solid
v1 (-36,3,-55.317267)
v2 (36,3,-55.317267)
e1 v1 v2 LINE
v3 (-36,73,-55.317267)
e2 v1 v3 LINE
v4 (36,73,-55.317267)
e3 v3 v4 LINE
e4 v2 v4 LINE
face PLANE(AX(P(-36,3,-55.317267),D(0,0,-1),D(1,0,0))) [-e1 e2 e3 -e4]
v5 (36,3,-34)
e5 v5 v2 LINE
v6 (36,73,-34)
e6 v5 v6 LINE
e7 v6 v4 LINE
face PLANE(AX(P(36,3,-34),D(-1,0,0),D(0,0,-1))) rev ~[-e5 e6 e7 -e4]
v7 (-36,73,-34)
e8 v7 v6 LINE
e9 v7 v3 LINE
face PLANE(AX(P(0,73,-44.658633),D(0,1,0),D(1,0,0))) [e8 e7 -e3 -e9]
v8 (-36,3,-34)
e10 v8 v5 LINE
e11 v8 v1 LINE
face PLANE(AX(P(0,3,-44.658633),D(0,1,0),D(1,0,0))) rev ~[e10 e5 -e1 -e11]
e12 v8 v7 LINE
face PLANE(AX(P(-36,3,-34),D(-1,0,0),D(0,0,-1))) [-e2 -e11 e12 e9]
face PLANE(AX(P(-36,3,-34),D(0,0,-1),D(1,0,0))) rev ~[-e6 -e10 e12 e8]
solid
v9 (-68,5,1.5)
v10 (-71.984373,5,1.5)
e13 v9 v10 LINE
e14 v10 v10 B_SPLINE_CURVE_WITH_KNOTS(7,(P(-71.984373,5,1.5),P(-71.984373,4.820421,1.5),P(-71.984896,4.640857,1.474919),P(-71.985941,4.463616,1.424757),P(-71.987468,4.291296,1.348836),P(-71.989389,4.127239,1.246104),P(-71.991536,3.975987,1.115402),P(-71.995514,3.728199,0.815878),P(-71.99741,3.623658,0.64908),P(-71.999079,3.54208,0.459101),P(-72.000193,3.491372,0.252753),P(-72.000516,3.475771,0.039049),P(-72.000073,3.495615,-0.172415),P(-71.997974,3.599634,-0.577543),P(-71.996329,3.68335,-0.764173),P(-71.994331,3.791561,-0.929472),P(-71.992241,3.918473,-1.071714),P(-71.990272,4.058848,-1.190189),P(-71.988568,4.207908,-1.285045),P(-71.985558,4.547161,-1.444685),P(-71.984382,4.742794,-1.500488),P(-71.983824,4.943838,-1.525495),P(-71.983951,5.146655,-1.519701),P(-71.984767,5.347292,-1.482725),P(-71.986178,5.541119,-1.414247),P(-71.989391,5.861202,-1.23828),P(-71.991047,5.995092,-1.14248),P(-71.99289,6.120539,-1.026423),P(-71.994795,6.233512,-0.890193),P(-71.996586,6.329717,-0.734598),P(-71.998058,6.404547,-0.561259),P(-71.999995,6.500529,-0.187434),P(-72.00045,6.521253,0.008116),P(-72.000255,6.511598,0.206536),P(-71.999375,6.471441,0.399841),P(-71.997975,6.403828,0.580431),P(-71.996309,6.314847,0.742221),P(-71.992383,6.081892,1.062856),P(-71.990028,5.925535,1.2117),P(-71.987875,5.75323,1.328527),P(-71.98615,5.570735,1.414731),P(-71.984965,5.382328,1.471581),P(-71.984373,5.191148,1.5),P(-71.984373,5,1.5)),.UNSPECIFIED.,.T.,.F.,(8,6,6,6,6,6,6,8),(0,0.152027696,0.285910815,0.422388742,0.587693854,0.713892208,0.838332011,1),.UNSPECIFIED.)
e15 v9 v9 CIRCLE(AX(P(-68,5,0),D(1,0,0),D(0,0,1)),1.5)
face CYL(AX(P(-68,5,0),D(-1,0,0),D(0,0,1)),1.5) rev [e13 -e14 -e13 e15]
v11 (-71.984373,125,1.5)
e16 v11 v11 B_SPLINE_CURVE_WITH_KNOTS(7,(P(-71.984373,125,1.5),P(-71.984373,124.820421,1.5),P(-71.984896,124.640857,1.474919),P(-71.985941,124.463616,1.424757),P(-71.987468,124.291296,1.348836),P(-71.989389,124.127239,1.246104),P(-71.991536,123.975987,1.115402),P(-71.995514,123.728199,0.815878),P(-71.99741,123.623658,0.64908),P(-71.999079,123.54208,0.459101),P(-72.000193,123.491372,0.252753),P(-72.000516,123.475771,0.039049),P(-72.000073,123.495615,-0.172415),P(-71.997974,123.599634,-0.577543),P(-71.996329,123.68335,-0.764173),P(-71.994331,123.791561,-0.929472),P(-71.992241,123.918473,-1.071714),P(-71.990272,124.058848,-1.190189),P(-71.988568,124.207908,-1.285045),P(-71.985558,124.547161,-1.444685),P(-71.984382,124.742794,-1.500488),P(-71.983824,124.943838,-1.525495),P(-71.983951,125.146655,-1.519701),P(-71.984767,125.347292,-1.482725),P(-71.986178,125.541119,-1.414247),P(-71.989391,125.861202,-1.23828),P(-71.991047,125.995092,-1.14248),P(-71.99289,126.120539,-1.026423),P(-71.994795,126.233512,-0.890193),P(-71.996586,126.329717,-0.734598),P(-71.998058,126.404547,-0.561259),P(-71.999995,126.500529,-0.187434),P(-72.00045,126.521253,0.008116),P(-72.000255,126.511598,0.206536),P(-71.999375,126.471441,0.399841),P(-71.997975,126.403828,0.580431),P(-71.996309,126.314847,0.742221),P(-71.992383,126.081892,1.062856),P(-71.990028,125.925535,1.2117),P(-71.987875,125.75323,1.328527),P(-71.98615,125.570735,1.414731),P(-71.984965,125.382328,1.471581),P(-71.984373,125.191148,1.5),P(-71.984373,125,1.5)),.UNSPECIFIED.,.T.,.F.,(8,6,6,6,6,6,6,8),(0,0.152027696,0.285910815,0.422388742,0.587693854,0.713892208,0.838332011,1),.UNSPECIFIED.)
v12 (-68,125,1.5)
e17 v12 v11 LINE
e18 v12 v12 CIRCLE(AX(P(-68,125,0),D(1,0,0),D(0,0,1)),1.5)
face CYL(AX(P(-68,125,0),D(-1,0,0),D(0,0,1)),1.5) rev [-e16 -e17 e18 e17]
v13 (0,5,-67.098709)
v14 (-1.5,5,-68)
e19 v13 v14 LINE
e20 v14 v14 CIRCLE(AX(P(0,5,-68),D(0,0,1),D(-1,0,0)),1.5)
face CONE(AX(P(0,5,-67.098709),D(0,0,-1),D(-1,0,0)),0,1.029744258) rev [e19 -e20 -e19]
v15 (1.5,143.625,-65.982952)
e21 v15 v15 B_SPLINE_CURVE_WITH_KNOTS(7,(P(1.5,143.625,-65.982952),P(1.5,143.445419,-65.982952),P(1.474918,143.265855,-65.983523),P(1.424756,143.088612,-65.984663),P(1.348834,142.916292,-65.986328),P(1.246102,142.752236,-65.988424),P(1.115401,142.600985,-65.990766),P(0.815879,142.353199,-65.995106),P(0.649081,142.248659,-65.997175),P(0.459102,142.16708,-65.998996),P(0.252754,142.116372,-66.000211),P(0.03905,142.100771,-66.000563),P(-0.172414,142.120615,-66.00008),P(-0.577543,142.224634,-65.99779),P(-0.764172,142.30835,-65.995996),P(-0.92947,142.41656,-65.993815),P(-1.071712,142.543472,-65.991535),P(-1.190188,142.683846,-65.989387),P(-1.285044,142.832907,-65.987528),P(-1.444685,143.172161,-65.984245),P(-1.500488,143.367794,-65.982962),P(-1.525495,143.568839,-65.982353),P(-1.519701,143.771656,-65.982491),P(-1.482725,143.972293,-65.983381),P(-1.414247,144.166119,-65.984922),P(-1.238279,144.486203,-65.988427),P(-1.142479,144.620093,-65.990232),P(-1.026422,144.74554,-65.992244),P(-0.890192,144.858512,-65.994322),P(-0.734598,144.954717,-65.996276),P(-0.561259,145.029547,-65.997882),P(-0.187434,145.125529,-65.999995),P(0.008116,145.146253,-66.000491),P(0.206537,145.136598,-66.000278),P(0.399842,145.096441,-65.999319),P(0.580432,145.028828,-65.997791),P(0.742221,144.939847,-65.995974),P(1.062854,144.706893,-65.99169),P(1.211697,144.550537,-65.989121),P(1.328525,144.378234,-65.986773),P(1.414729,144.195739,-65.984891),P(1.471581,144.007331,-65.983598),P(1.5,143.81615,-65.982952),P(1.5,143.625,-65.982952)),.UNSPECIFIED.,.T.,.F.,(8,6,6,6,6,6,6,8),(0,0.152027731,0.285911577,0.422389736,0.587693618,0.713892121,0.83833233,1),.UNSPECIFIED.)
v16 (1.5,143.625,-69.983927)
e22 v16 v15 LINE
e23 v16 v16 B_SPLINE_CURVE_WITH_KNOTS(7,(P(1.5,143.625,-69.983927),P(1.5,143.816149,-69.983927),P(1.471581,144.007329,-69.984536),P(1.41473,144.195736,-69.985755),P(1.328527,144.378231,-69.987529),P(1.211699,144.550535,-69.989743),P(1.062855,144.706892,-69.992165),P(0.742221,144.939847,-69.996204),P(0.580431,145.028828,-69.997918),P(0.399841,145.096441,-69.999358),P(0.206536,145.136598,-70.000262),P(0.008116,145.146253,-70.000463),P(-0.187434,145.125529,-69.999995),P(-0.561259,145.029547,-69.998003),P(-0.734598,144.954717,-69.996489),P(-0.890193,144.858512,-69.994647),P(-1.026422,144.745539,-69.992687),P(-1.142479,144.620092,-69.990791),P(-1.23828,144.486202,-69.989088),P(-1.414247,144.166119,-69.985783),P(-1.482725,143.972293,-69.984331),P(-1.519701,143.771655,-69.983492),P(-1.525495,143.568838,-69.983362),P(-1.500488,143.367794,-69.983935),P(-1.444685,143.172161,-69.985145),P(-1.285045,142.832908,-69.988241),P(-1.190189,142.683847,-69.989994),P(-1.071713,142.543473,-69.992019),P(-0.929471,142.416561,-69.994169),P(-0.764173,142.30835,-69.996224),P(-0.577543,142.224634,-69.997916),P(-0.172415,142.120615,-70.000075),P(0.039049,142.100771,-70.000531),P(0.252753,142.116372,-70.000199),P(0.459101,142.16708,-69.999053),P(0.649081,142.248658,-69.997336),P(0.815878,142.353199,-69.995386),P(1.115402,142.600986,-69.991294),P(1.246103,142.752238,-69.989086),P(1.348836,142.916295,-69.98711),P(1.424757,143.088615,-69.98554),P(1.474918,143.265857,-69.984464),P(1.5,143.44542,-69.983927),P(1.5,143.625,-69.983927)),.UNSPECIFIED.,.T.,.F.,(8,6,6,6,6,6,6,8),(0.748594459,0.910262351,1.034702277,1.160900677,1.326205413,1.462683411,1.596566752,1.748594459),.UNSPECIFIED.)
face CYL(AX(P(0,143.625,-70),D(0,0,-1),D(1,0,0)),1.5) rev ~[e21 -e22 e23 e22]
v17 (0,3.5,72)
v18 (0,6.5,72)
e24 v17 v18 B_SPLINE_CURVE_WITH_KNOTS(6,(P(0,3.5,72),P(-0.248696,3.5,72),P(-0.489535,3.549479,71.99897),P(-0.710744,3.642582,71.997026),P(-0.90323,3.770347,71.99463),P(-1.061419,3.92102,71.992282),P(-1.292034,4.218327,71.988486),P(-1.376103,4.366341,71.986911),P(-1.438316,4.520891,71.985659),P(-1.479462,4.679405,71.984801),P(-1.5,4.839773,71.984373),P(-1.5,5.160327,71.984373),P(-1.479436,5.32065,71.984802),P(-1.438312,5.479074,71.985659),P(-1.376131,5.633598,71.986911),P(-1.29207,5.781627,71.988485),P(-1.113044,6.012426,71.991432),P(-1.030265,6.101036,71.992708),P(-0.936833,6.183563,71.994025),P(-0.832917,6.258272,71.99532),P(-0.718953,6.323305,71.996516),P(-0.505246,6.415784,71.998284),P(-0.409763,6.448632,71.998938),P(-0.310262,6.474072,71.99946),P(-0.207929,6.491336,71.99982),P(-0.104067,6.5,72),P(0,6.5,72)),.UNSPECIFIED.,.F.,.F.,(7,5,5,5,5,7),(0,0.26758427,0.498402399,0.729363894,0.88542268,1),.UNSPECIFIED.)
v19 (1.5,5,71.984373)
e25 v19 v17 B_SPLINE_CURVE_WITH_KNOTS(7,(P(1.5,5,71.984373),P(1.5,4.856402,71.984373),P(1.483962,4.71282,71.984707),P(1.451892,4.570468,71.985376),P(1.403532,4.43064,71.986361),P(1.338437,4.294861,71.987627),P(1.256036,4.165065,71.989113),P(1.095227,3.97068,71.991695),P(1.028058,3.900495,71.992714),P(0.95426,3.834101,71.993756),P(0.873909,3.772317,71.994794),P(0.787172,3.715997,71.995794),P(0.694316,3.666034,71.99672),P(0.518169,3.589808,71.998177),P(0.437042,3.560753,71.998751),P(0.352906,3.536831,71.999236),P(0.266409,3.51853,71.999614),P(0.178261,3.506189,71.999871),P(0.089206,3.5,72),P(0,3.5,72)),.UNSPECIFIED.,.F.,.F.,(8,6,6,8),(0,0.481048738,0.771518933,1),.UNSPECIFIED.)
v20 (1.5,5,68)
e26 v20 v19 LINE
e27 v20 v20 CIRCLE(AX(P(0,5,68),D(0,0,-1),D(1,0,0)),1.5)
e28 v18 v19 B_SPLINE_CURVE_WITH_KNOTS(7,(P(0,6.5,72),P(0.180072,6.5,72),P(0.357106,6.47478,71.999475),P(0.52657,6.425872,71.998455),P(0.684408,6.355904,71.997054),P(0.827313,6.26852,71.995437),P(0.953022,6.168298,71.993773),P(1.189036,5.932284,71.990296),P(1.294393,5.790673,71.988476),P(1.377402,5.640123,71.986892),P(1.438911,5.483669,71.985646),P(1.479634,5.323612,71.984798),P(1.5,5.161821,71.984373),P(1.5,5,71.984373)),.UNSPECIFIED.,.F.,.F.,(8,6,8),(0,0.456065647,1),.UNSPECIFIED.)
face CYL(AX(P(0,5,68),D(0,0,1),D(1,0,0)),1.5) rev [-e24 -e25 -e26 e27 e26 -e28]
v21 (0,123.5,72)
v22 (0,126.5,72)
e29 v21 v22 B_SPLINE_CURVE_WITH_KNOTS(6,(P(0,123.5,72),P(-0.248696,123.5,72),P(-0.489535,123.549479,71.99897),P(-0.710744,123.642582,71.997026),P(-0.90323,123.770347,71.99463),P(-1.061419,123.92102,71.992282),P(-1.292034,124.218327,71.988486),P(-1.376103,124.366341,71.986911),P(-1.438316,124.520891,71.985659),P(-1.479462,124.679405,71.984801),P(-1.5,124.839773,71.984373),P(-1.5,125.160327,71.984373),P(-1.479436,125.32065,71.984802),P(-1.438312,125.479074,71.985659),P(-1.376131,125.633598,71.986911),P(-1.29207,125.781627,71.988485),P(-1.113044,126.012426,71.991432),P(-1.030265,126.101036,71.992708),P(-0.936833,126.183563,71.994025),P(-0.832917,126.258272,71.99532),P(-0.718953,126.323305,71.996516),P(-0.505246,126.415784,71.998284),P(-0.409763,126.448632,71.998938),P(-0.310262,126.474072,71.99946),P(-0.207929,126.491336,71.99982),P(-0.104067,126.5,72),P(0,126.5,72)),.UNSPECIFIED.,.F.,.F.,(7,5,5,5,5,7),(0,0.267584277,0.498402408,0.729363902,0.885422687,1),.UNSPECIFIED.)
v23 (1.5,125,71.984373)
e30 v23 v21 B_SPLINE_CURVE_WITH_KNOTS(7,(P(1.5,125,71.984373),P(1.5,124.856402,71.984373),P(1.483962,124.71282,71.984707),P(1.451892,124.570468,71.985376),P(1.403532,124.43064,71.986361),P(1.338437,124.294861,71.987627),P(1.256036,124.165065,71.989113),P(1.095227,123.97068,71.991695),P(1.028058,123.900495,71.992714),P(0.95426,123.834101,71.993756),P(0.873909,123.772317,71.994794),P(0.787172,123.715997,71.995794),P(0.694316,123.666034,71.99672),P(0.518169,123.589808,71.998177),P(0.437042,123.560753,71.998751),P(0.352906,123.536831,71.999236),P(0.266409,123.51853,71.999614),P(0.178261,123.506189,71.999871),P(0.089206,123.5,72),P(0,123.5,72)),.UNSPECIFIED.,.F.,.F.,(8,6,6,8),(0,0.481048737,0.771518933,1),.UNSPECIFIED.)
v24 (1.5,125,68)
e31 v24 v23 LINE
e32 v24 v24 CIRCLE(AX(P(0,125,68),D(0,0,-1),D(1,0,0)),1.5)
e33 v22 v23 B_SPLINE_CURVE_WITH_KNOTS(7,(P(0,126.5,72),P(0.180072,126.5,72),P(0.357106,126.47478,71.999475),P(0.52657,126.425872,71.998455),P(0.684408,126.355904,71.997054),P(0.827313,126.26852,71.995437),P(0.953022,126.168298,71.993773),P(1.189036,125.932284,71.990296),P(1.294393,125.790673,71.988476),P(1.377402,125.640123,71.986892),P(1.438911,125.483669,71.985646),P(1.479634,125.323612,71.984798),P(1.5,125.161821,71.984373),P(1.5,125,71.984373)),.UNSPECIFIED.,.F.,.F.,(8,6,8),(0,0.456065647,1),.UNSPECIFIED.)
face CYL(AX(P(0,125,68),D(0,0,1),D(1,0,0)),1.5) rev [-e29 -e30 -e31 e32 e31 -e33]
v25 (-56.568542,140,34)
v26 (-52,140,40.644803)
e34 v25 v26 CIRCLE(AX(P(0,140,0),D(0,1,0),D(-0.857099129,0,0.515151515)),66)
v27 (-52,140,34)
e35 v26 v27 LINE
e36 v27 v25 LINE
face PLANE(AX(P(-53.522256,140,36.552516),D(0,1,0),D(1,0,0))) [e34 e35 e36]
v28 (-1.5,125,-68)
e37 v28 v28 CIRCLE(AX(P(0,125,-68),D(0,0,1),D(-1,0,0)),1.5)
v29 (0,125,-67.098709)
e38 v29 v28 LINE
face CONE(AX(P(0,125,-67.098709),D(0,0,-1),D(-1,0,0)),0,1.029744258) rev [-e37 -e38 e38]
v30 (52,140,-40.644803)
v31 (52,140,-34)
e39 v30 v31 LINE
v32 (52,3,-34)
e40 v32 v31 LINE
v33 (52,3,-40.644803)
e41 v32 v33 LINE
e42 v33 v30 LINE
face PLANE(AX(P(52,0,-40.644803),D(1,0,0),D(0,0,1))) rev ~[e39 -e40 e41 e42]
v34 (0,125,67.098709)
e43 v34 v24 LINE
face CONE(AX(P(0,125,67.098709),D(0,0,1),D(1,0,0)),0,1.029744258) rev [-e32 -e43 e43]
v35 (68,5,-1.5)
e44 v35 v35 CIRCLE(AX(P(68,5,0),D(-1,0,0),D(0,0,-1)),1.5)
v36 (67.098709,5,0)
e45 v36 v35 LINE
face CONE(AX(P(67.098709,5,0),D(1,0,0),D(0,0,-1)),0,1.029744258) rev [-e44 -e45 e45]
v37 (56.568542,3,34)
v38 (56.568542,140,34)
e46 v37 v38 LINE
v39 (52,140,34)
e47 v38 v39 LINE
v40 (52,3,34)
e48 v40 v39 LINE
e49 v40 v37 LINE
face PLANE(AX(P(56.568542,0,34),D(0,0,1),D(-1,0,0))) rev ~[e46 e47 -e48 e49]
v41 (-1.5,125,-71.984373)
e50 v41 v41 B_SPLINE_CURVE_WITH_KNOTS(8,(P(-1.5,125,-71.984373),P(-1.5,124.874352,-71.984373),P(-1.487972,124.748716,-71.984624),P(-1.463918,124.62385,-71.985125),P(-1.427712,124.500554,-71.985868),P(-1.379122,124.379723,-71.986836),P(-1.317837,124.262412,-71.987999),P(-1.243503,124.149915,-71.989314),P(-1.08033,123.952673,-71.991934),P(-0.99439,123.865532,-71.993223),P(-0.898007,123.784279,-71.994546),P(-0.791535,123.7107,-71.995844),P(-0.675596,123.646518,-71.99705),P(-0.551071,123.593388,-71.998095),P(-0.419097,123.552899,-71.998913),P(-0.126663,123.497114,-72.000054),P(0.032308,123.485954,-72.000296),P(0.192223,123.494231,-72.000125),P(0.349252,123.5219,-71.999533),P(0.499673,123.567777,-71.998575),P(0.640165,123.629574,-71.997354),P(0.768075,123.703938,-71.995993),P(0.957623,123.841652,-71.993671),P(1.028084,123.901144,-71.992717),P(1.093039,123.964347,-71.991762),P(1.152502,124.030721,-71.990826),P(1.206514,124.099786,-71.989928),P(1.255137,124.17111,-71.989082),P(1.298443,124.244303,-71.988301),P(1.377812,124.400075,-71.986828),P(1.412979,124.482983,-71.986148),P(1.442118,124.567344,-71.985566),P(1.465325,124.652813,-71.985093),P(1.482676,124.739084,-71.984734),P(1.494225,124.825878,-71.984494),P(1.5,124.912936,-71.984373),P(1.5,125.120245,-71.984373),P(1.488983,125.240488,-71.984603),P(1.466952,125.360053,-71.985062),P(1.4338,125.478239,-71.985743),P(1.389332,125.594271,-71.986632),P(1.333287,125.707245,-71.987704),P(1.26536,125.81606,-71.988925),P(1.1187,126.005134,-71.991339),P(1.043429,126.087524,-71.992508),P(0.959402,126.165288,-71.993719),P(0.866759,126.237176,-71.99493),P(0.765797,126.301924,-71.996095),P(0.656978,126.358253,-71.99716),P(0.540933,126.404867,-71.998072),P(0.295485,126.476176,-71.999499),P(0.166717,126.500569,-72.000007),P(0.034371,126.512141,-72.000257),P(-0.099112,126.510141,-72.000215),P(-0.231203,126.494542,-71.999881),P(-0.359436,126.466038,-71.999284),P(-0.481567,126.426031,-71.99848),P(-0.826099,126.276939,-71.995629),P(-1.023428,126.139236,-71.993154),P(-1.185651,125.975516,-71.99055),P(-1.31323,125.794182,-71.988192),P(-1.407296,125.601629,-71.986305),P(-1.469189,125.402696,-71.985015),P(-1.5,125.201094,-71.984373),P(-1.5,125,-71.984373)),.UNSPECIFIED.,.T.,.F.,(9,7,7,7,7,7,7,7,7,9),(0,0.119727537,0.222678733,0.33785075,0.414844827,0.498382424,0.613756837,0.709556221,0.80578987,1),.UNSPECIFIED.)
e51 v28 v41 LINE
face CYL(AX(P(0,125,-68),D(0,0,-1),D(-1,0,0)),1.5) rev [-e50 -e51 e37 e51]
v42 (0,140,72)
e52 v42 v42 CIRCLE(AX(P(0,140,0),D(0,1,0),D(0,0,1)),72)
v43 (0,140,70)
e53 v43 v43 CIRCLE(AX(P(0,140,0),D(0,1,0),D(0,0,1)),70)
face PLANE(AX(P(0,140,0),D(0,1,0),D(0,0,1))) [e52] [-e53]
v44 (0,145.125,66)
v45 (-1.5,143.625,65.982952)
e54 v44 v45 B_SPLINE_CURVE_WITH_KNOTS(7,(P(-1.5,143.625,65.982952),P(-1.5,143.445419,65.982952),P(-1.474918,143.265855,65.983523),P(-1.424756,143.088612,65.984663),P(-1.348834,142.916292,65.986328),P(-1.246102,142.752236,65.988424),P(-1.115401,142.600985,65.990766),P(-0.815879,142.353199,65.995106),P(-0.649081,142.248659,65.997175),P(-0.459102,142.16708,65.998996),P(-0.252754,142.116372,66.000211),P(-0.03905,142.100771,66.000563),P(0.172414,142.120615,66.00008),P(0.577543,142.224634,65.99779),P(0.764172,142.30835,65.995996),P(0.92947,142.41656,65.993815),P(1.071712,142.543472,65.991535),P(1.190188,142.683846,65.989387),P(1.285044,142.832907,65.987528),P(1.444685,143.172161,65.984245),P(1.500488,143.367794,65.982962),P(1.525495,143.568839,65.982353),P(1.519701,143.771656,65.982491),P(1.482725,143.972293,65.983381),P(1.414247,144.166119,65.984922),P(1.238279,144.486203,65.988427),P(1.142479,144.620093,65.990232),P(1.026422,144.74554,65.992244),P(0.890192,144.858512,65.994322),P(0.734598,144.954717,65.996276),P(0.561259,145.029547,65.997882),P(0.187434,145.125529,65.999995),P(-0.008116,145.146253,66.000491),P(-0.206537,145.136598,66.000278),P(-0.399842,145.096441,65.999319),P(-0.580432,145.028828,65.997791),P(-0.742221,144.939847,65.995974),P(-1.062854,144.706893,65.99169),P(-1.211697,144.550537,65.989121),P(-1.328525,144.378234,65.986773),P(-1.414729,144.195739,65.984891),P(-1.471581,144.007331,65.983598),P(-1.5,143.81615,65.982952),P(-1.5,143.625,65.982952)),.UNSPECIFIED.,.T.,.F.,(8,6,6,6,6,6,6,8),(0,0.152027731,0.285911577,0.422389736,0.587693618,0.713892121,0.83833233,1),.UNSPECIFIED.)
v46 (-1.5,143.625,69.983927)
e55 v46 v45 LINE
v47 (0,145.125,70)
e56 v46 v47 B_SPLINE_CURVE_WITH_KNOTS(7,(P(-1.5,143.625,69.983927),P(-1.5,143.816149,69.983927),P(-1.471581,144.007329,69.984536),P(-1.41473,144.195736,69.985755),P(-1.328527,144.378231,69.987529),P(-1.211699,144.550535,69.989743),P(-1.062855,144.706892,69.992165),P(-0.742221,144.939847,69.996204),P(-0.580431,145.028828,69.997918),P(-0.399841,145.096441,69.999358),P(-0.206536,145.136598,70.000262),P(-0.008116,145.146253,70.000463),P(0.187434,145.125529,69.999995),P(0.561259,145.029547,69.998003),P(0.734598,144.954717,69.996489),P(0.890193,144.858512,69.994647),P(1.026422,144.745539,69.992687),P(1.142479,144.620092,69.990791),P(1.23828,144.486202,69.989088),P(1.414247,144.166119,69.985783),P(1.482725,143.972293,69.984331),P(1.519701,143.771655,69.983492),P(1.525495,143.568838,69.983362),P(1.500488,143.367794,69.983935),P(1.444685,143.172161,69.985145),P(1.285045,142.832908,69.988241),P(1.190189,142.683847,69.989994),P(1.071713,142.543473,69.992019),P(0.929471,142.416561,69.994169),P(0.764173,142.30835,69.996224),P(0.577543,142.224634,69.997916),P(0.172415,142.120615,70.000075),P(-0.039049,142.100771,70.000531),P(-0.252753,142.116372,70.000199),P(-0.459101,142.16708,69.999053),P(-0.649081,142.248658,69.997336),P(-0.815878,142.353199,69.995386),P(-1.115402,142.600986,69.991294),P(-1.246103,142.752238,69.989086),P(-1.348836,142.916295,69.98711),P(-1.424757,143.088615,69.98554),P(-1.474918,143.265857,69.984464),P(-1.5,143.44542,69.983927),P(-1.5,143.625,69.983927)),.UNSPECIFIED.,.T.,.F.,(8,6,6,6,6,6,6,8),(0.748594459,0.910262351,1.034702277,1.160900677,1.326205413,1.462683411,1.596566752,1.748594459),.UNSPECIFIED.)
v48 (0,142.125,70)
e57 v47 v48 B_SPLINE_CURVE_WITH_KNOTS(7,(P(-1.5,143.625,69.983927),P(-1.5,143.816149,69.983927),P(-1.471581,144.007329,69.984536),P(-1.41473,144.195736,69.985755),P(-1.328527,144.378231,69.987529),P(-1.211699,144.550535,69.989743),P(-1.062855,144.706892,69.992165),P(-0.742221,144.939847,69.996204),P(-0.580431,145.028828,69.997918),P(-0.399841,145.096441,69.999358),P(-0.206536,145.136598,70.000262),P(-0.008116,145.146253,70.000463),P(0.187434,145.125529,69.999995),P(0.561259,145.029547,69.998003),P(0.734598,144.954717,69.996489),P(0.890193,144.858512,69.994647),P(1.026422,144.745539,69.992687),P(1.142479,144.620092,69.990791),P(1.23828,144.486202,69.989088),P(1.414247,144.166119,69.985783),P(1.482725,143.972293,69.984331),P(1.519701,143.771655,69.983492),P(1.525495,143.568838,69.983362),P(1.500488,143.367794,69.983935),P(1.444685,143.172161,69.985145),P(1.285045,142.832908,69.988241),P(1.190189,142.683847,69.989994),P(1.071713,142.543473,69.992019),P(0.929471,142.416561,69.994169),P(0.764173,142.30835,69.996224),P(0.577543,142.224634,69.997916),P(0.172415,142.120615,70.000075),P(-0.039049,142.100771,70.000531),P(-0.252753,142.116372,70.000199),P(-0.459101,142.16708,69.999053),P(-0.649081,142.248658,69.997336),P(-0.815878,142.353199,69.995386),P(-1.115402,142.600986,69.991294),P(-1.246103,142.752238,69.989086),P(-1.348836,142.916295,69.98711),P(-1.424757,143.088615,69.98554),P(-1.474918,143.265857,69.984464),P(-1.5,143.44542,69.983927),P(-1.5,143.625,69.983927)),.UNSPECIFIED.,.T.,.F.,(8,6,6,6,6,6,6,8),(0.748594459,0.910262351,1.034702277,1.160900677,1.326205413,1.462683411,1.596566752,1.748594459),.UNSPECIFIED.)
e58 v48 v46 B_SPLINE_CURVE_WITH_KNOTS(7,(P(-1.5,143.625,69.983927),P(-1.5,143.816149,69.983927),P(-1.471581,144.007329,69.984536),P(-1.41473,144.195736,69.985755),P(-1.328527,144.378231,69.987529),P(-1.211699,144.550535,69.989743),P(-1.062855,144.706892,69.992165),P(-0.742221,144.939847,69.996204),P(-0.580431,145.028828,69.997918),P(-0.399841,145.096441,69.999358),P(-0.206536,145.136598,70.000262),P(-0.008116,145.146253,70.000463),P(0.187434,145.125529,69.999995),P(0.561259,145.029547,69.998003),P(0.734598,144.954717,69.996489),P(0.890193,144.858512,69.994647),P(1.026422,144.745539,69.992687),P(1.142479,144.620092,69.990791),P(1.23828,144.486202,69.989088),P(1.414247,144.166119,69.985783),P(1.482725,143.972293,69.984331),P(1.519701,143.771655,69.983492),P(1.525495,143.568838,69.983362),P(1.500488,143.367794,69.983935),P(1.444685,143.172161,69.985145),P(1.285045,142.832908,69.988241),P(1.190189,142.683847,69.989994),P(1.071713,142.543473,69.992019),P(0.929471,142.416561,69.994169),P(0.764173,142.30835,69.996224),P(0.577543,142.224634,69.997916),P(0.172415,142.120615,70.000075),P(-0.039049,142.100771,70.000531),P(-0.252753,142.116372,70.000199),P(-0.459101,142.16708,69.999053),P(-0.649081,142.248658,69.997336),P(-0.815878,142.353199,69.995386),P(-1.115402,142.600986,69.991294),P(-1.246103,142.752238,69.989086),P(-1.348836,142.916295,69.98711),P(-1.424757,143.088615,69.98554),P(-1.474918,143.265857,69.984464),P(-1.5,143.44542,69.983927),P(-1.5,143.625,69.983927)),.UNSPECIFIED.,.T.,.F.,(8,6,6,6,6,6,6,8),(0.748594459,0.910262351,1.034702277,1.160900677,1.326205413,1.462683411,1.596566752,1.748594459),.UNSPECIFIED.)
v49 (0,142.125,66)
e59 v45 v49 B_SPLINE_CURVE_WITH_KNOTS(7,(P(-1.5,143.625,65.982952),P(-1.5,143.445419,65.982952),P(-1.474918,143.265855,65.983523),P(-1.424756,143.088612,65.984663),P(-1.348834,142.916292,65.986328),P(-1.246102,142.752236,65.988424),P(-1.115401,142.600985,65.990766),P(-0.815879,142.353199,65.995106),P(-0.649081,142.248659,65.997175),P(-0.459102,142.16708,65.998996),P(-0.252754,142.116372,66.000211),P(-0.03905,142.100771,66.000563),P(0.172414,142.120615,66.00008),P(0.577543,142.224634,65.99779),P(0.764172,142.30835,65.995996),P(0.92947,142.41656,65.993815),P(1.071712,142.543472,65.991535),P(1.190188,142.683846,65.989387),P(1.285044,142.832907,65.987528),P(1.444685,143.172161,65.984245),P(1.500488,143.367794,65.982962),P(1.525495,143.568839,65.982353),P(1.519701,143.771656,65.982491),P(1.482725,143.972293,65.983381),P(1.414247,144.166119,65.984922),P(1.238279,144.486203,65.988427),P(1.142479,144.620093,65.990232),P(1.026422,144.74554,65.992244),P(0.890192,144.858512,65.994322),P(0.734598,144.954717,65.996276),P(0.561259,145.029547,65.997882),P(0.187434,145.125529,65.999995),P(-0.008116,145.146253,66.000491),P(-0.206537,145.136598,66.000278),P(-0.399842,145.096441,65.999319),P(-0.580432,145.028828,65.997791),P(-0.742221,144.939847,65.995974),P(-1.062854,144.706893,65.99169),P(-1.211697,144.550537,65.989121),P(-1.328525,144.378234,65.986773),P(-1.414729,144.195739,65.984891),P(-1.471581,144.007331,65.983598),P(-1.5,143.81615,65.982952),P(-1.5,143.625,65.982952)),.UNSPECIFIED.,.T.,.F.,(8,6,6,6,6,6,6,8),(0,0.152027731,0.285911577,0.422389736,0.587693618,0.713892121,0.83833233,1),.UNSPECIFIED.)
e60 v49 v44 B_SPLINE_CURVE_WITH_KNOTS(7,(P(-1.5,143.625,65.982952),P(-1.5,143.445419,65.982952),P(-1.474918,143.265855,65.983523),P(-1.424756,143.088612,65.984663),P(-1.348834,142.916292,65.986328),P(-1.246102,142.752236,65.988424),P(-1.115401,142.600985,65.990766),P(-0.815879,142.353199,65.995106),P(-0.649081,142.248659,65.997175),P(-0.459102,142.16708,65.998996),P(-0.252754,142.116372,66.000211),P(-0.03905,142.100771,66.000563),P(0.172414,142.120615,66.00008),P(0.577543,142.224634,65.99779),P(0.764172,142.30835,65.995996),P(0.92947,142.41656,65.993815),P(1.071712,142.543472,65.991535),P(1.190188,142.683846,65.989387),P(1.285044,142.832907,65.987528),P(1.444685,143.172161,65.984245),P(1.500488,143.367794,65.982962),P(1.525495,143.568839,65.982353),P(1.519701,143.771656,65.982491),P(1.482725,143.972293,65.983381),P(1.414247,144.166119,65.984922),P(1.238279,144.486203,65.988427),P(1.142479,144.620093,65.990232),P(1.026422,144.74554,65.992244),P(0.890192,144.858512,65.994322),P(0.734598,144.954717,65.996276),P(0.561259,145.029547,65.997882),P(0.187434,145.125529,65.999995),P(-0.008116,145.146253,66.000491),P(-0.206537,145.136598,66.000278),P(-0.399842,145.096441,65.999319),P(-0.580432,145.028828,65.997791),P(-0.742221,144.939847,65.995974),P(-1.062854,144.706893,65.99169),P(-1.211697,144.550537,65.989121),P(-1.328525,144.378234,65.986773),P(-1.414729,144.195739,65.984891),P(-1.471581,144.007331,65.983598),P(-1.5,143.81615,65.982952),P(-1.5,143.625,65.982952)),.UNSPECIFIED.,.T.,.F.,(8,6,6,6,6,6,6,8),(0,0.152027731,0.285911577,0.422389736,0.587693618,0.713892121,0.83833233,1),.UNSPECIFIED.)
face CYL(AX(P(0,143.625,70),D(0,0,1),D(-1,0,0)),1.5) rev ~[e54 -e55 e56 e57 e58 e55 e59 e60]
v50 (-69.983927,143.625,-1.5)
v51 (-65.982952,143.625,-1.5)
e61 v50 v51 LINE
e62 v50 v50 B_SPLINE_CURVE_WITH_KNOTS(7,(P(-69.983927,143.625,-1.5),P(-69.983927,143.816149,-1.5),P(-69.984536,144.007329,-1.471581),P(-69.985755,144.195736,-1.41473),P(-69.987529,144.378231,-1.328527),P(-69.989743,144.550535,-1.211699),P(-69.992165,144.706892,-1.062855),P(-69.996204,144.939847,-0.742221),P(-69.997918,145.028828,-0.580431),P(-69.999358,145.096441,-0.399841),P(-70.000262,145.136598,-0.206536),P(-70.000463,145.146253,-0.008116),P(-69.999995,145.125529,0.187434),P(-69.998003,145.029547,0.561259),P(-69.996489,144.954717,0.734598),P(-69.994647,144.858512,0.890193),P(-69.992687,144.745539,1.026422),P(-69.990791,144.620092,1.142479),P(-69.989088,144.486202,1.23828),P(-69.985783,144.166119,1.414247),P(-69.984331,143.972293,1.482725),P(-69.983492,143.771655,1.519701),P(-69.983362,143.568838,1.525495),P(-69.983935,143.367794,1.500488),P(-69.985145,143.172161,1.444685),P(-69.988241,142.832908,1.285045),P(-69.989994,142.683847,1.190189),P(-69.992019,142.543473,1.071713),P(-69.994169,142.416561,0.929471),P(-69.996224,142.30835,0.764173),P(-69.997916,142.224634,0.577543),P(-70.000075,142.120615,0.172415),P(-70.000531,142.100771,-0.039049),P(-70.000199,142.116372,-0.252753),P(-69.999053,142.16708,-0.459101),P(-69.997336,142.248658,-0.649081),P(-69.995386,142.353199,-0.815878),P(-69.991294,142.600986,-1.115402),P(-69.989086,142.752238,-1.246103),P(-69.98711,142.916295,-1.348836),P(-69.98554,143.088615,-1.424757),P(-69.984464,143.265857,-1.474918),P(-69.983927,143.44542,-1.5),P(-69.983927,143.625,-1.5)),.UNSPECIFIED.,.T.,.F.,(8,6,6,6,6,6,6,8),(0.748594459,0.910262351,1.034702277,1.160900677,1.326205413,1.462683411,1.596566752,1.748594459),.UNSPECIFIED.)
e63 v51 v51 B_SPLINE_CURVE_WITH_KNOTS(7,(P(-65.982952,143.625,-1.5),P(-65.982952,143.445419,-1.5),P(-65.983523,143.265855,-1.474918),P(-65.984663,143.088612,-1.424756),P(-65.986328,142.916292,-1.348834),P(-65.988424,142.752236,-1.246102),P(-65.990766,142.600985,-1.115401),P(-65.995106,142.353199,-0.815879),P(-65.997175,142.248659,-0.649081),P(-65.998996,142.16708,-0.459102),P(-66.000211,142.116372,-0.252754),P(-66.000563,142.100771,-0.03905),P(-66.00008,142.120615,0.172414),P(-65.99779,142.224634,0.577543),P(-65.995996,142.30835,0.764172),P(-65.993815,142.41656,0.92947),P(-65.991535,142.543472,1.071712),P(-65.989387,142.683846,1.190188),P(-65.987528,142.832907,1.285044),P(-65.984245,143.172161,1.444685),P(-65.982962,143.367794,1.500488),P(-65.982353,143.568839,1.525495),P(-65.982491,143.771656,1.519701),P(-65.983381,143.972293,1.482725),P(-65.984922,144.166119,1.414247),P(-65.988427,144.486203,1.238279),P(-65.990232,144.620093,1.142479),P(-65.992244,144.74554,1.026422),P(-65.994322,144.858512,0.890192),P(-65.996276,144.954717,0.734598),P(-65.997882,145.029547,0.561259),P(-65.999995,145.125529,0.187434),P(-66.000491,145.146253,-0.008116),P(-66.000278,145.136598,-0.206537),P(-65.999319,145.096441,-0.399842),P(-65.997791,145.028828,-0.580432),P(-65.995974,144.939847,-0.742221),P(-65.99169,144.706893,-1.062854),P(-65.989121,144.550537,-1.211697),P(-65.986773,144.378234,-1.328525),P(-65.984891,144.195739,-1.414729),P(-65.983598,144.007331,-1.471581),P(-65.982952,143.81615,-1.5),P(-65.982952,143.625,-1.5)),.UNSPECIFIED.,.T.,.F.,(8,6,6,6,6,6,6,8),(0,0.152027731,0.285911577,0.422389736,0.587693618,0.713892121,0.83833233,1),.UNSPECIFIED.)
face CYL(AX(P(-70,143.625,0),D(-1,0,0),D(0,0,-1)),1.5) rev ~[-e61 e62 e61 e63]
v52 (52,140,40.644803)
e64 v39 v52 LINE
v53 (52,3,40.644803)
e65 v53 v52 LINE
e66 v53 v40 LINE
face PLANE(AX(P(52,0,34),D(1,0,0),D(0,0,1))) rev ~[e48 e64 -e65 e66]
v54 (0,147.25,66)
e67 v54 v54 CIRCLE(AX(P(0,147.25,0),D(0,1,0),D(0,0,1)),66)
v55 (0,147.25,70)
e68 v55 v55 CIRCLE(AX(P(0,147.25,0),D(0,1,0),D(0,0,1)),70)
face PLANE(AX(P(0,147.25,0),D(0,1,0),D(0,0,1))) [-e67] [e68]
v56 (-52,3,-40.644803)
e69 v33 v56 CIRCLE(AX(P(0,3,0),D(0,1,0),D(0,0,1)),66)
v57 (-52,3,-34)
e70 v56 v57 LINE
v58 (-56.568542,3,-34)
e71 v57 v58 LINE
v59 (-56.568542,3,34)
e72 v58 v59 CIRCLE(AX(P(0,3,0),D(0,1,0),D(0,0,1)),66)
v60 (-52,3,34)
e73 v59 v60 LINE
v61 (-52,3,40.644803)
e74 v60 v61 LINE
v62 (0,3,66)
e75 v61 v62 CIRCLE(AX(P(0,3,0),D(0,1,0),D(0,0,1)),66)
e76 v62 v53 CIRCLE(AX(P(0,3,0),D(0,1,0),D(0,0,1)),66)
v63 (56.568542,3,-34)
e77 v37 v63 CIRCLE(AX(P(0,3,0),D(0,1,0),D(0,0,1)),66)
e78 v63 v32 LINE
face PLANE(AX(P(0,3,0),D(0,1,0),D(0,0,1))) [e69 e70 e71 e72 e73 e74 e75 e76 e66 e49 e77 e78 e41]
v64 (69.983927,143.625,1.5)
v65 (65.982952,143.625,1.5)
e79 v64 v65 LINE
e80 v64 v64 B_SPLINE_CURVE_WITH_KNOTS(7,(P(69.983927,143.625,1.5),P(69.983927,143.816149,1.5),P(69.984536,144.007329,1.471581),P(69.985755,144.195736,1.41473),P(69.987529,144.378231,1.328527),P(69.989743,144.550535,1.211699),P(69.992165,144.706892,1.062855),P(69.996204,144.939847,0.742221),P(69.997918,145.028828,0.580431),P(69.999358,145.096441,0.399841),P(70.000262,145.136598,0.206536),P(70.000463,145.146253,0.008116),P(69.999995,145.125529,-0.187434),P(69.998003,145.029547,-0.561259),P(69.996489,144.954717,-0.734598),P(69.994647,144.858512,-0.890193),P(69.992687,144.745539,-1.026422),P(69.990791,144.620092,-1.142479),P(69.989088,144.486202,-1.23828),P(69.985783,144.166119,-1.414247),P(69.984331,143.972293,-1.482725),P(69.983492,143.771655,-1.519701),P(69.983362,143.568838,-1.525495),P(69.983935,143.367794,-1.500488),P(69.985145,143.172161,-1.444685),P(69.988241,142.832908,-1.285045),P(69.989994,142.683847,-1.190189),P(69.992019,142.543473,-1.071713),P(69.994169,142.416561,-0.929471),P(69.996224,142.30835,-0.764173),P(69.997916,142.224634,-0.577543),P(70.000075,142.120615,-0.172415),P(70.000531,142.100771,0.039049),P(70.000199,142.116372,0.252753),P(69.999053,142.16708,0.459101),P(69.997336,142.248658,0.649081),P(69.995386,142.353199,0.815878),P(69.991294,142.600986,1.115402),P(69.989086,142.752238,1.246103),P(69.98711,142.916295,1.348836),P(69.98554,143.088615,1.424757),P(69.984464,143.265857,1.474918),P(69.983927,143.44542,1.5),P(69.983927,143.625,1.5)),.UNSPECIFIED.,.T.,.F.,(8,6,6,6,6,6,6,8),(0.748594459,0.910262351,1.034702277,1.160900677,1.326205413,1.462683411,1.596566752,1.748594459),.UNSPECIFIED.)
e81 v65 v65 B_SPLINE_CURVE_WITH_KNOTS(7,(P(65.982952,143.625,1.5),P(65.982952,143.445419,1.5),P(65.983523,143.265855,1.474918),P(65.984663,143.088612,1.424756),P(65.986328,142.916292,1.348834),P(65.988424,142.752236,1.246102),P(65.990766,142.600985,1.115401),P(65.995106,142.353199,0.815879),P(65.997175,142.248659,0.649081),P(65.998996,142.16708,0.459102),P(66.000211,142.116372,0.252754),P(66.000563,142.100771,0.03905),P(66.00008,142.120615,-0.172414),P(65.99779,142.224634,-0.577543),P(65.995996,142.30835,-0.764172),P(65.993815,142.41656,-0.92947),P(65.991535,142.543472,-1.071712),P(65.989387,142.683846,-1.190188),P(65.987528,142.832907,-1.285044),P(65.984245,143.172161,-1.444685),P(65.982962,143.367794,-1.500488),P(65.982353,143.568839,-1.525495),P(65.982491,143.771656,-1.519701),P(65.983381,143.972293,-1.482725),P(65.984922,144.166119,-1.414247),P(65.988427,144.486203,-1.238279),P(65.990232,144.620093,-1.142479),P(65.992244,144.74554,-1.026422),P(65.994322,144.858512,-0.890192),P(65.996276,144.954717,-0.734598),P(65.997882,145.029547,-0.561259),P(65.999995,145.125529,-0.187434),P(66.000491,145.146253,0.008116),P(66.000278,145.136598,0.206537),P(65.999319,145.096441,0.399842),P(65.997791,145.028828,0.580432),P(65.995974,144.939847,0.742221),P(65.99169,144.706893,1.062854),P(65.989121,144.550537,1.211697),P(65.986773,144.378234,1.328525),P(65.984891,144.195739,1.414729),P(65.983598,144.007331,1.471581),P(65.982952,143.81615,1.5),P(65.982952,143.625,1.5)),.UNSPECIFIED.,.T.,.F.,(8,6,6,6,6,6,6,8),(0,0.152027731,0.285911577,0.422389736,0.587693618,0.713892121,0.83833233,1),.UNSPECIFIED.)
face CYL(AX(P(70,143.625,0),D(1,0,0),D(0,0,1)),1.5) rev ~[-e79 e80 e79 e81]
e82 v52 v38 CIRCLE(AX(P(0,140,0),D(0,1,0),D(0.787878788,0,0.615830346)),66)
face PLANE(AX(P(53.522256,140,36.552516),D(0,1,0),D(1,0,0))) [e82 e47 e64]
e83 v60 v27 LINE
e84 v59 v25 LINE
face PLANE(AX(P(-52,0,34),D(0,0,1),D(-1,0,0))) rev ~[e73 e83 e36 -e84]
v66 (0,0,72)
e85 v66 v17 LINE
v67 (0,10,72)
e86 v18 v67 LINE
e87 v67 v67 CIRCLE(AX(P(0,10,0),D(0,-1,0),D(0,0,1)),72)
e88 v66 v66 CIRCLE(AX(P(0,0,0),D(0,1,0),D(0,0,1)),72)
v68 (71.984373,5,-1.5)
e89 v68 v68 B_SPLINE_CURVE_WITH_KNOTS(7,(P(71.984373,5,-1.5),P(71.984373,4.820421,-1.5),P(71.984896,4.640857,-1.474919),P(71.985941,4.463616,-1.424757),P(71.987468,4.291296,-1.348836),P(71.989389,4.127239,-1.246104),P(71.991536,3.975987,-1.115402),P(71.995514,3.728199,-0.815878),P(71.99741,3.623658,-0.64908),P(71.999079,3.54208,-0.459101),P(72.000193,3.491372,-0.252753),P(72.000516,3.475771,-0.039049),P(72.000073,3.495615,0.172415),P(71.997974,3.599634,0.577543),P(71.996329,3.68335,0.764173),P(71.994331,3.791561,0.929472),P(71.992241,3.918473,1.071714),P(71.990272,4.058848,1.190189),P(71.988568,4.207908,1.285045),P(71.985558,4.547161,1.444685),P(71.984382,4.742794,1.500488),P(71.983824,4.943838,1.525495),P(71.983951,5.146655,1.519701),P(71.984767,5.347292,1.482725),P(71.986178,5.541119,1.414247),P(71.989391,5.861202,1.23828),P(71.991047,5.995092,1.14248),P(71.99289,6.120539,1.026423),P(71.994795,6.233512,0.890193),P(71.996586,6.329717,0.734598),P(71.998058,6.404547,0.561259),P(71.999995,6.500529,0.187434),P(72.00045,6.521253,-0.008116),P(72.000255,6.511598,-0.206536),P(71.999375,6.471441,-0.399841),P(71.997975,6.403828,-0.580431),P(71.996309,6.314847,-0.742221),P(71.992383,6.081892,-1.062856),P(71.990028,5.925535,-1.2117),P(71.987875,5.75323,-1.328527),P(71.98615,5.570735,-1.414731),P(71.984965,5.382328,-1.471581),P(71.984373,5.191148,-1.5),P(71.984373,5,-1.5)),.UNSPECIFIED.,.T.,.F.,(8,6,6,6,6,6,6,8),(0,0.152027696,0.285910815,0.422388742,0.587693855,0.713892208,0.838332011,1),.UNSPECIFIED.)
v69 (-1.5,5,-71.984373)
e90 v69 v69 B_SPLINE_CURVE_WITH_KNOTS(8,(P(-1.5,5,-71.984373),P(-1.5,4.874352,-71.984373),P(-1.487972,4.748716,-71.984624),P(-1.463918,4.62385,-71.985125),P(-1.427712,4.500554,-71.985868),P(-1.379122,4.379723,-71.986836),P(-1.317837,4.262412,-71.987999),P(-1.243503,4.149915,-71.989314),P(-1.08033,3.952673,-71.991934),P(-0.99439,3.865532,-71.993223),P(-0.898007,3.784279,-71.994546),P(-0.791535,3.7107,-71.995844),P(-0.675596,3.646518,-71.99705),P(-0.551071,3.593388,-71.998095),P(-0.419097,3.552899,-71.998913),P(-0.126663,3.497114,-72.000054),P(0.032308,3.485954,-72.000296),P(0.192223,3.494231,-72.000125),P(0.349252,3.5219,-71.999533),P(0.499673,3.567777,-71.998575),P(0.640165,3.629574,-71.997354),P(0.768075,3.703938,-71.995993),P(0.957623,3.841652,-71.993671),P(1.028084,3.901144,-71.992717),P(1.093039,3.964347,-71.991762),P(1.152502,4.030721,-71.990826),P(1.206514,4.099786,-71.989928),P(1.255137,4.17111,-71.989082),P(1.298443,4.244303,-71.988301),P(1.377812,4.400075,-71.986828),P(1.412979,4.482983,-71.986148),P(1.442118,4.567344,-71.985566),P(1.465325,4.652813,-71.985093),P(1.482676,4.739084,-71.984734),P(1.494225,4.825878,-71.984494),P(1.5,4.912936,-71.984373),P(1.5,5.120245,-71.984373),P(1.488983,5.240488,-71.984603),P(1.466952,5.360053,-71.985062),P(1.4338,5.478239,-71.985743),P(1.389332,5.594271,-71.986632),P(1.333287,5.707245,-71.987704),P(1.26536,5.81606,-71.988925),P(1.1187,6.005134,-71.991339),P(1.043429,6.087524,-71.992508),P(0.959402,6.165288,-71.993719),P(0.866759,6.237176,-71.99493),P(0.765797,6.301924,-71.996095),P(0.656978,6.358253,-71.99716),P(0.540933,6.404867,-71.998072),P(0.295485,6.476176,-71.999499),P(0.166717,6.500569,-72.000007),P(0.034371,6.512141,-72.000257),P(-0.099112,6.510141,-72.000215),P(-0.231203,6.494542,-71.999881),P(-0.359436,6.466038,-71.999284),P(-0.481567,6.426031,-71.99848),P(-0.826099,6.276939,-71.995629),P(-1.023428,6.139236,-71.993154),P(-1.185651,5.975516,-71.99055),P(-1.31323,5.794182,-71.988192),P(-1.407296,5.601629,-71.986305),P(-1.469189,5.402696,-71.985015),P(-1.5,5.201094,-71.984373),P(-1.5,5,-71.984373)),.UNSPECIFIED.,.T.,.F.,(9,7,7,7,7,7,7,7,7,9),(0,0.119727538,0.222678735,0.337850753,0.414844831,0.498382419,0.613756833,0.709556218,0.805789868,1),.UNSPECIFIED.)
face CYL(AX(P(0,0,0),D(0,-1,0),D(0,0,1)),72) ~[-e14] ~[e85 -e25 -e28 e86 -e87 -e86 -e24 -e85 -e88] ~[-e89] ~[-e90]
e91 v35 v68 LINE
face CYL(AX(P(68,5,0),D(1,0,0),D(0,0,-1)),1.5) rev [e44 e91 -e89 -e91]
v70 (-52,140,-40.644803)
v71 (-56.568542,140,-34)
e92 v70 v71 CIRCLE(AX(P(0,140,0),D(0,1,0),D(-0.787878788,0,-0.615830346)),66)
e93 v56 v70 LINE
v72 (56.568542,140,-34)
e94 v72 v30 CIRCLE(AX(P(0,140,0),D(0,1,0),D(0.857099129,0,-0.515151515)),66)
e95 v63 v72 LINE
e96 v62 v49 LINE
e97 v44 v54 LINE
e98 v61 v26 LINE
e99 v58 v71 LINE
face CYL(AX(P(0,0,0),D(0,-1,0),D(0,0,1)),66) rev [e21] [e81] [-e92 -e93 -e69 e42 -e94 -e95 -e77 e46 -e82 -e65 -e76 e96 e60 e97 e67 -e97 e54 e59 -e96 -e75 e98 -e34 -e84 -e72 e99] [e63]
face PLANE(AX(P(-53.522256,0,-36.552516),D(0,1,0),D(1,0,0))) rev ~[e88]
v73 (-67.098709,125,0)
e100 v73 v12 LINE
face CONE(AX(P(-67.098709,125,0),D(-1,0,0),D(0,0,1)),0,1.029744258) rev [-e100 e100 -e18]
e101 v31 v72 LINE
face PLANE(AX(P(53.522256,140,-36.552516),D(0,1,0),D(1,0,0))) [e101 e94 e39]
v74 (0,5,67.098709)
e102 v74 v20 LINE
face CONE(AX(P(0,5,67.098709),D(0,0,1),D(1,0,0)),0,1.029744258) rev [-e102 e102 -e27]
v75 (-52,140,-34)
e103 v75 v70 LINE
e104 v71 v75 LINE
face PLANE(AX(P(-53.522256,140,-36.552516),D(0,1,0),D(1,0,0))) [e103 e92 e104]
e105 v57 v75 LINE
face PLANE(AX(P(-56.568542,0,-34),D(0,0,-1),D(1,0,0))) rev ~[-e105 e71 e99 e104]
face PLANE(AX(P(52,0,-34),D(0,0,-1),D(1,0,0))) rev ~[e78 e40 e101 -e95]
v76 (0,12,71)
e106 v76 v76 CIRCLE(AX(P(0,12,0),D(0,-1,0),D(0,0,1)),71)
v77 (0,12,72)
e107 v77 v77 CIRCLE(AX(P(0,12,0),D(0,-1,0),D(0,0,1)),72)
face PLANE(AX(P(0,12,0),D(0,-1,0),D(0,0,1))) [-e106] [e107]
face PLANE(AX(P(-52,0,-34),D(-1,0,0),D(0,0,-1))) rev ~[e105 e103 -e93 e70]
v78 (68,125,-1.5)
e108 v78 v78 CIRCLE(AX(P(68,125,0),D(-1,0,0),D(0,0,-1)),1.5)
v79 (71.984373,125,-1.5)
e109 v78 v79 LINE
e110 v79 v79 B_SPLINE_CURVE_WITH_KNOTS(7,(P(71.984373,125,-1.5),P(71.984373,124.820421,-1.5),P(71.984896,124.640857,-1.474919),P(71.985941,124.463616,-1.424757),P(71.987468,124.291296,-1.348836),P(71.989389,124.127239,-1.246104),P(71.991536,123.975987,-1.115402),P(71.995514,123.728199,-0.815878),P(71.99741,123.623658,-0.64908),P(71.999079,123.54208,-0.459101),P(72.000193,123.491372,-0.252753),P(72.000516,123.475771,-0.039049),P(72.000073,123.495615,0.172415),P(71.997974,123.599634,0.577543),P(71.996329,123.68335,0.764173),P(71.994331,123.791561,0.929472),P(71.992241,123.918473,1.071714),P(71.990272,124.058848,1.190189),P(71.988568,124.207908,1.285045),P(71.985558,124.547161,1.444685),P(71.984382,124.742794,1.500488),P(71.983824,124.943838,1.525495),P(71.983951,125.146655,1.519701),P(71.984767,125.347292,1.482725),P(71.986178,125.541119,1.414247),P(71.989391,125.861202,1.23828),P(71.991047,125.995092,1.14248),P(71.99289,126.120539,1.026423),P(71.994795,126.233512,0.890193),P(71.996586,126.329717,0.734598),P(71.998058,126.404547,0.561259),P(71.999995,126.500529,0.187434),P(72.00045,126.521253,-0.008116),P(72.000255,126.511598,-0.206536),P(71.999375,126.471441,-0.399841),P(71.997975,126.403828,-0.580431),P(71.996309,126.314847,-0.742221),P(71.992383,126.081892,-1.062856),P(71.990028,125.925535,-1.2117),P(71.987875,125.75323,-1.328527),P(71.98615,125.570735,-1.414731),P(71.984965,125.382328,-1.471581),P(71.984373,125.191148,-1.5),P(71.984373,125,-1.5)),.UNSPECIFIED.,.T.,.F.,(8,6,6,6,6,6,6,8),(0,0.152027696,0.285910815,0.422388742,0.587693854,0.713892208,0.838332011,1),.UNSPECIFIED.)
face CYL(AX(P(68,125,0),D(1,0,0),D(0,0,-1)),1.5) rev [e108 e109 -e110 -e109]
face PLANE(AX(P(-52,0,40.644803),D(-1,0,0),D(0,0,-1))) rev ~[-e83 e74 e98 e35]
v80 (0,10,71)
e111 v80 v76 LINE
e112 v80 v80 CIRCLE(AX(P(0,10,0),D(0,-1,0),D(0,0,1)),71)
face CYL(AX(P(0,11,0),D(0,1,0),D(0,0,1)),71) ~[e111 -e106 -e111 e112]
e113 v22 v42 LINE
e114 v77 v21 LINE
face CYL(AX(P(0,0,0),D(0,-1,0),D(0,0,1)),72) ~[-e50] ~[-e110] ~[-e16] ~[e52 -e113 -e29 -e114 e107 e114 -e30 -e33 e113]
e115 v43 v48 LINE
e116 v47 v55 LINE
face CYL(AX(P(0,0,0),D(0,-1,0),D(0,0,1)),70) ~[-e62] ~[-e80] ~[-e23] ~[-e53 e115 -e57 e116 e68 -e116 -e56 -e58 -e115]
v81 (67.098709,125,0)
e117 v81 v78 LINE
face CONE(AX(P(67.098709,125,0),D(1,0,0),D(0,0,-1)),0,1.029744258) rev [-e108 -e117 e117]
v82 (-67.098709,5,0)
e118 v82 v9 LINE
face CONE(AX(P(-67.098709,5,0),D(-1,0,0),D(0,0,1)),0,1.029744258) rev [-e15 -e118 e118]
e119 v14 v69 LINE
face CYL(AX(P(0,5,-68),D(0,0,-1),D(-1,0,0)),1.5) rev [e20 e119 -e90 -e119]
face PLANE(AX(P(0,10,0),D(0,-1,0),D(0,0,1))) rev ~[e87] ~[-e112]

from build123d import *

# Parameters (mm, degrees)
SKETCH_6_R               = 72
SKETCH_6_R_2             = 70
EXTRUDE_1_DEPTH          = 140
SKETCH_6_15_R            = 70
SKETCH_6_15_R_2          = 66
EXTRUDE_2_DEPTH          = 147.25
SKETCH_6_16_R            = 66
EXTRUDE_3_DEPTH          = 3
EXTRUDE_6_DEPTH          = 140
F_2_5MM_3_REACH          = 216.42
F_2_5MM_3_BORE_R         = 1.5
PATTERN_CIRCULAR_1_COUNT = 4
SKETCH_33_W              = 1
SKETCH_33_H              = 2
PATTERN_CIRCULAR_2_COUNT = 4
SKETCH_40_W              = 72
SKETCH_40_H              = 21.317266744
EXTRUDE_8_DEPTH          = 70


with BuildPart() as part:
    # 草圖6 → 填料-伸長1 (new body)
    with BuildSketch(Plane(origin=(0, 0, 0), x_dir=(1, 0, 0), z_dir=(0, 1, 0))):
        with Locations(Location((0, 0, 0), (0, 0, 270))):
            Circle(SKETCH_6_R)
        with Locations(Location((0, 0, 0), (0, 0, 270))):
            Circle(SKETCH_6_R_2, mode=Mode.SUBTRACT)
    extrude(amount=EXTRUDE_1_DEPTH)

    # 草圖6<15> → 填料-伸長2 (add)
    with BuildSketch(Plane(origin=(0, 0, 0), x_dir=(1, 0, 0), z_dir=(0, 1, 0))):
        with Locations(Location((0, 0, 0), (0, 0, 270))):
            Circle(SKETCH_6_15_R)
        with Locations(Location((0, 0, 0), (0, 0, 270))):
            Circle(SKETCH_6_15_R_2, mode=Mode.SUBTRACT)
    extrude(amount=EXTRUDE_2_DEPTH)

    # 草圖6<16> → 填料-伸長3 (add)
    with BuildSketch(Plane(origin=(0, 0, 0), x_dir=(1, 0, 0), z_dir=(0, 1, 0))):
        with Locations(Location((0, 0, 0), (0, 0, 270))):
            Circle(SKETCH_6_16_R)
    extrude(amount=EXTRUDE_3_DEPTH)

    # 草圖9 → 填料-伸長6 (add)
    with BuildSketch(Plane(origin=(0, 0, 0), x_dir=(1, 0, 0), z_dir=(0, 1, 0))):
        with BuildLine():
            Line((-52, 34), (-52, 40.644802866))
            ThreePointArc((-52, 40.644802866), (-54.38584794, 37.392239086), (-56.568542495, 34))
            Line((-56.568542495, 34), (-52, 34))
        make_face()
        with BuildLine():
            Line((-52, -34), (-56.568542495, -34))
            ThreePointArc((-56.568542495, -34), (-54.38584794, -37.392239086), (-52, -40.644802866))
            Line((-52, -40.644802866), (-52, -34))
        make_face()
        with BuildLine():
            Line((56.568542495, -34), (52, -34))
            Line((52, -34), (52, -40.644802866))
            ThreePointArc((52, -40.644802866), (54.38584794, -37.392239086), (56.568542495, -34))
        make_face()
        with BuildLine():
            ThreePointArc((56.568542495, 34), (54.38584794, 37.392239086), (52, 40.644802866))
            Line((52, 40.644802866), (52, 34))
            Line((52, 34), (56.568542495, 34))
        make_face()
    extrude(amount=EXTRUDE_6_DEPTH)

    # Ø2.5mm 定位孔3 bore (on position points) → Ø2.5mm 定位孔3 (cut, up to next)
    with BuildSketch(Plane(origin=(70, 143.625, 0), x_dir=(0, 0, 1), z_dir=(1, 0, 0)), mode=Mode.PRIVATE) as f_2_5mm_3_sk1:
        Circle(F_2_5MM_3_BORE_R)
    f_2_5mm_3_tool1 = extrude(f_2_5mm_3_sk1.sketch, amount=-F_2_5MM_3_REACH, mode=Mode.PRIVATE) & part.part
    f_2_5mm_3 = f_2_5mm_3_tool1.solids().sort_by_distance((70, 143.625, 0))[0]
    add(f_2_5mm_3, mode=Mode.SUBTRACT)

    # 環狀複製排列1: Ø2.5mm 定位孔3 ×4 about axis
    pattern_circular_1_axis = Axis((0, 147.25, 0), (0, 1, 0))
    for i in range(1, PATTERN_CIRCULAR_1_COUNT):
        add(f_2_5mm_3.rotate(pattern_circular_1_axis, i * 360 / PATTERN_CIRCULAR_1_COUNT), mode=Mode.SUBTRACT)

    # 草圖33 → 除料-旋轉1 (revolve, cut)
    with BuildSketch(Plane.XY, mode=Mode.PRIVATE) as cut_revolve_1_sk:
        with Locations((-71.5, 11)):
            Rectangle(SKETCH_33_W, SKETCH_33_H)
    revolve(cut_revolve_1_sk.sketch.rotate(Axis((0, 147.25, 0), (0, -1, 0)), 270), axis=Axis((0, 147.25, 0), (0, -1, 0)), mode=Mode.SUBTRACT)

    # 草圖37 → Ø3.0mm 定位孔1 (revolve, cut)
    with BuildSketch(Plane(origin=(-72, 5, 0), x_dir=(0, 0, 1), z_dir=(0, 1, 0))):
        Polygon((0, 0), (0, 4.901290929), (1.5, 4), (1.5, 0), align=None)
    f_3_0mm_1 = revolve(axis=Axis((-78.35, 5, 0), (1, 0, 0)), mode=Mode.SUBTRACT)

    # 環狀複製排列2: Ø3.0mm 定位孔1 ×4 about axis
    pattern_circular_2_axis = Axis((0, 147.25, 0), (0, -1, 0))
    for i in range(1, PATTERN_CIRCULAR_2_COUNT):
        add(f_3_0mm_1.rotate(pattern_circular_2_axis, i * 360 / PATTERN_CIRCULAR_2_COUNT), mode=Mode.SUBTRACT)

    # 直線複製排列2 copy 1 sketch → 直線複製排列2 copy 1 (revolve, cut)
    with BuildSketch(Plane(origin=(0, 125, -72), x_dir=(-1, 0, 0), z_dir=(0, 1, 0))):
        Polygon((0, 0), (0, 4.901290929), (1.5, 4), (1.5, 0), align=None)
    revolve(axis=Axis((0, 125, -78.35), (0, 0, 1)), mode=Mode.SUBTRACT)

    # 直線複製排列2 copy 2 sketch → 直線複製排列2 copy 2 (revolve, cut)
    with BuildSketch(Plane(origin=(72, 125, 0), x_dir=(0, 0, -1), z_dir=(0, 1, 0))):
        Polygon((0, 0), (0, 4.901290929), (1.5, 4), (1.5, 0), align=None)
    revolve(axis=Axis((78.35, 125, 0), (-1, 0, 0)), mode=Mode.SUBTRACT)

    # 直線複製排列2 copy 3 sketch → 直線複製排列2 copy 3 (revolve, cut)
    with BuildSketch(Plane(origin=(0, 125, 72), x_dir=(1, 0, 0), z_dir=(0, 1, 0))):
        Polygon((0, 0), (0, 4.901290929), (1.5, 4), (1.5, 0), align=None)
    revolve(axis=Axis((0, 125, 78.35), (0, 0, -1)), mode=Mode.SUBTRACT)

    # 直線複製排列2 copy 4 sketch → 直線複製排列2 copy 4 (revolve, cut)
    with BuildSketch(Plane(origin=(-72, 125, 0), x_dir=(0, 0, 1), z_dir=(0, 1, 0))):
        Polygon((0, 0), (0, 4.901290929), (1.5, 4), (1.5, 0), align=None)
    revolve(axis=Axis((-78.35, 125, 0), (1, 0, 0)), mode=Mode.SUBTRACT)


with BuildPart() as body_2:
    # 草圖40 → 填料-伸長8 (new body)
    with BuildSketch(Plane(origin=(0, 3, 0), x_dir=(1, 0, 0), z_dir=(0, 1, 0))):
        with Locations((0, 44.658633372)):
            Rectangle(SKETCH_40_W, SKETCH_40_H)
    extrude(amount=EXTRUDE_8_DEPTH)


solid = Compound([part.part, body_2.part])
